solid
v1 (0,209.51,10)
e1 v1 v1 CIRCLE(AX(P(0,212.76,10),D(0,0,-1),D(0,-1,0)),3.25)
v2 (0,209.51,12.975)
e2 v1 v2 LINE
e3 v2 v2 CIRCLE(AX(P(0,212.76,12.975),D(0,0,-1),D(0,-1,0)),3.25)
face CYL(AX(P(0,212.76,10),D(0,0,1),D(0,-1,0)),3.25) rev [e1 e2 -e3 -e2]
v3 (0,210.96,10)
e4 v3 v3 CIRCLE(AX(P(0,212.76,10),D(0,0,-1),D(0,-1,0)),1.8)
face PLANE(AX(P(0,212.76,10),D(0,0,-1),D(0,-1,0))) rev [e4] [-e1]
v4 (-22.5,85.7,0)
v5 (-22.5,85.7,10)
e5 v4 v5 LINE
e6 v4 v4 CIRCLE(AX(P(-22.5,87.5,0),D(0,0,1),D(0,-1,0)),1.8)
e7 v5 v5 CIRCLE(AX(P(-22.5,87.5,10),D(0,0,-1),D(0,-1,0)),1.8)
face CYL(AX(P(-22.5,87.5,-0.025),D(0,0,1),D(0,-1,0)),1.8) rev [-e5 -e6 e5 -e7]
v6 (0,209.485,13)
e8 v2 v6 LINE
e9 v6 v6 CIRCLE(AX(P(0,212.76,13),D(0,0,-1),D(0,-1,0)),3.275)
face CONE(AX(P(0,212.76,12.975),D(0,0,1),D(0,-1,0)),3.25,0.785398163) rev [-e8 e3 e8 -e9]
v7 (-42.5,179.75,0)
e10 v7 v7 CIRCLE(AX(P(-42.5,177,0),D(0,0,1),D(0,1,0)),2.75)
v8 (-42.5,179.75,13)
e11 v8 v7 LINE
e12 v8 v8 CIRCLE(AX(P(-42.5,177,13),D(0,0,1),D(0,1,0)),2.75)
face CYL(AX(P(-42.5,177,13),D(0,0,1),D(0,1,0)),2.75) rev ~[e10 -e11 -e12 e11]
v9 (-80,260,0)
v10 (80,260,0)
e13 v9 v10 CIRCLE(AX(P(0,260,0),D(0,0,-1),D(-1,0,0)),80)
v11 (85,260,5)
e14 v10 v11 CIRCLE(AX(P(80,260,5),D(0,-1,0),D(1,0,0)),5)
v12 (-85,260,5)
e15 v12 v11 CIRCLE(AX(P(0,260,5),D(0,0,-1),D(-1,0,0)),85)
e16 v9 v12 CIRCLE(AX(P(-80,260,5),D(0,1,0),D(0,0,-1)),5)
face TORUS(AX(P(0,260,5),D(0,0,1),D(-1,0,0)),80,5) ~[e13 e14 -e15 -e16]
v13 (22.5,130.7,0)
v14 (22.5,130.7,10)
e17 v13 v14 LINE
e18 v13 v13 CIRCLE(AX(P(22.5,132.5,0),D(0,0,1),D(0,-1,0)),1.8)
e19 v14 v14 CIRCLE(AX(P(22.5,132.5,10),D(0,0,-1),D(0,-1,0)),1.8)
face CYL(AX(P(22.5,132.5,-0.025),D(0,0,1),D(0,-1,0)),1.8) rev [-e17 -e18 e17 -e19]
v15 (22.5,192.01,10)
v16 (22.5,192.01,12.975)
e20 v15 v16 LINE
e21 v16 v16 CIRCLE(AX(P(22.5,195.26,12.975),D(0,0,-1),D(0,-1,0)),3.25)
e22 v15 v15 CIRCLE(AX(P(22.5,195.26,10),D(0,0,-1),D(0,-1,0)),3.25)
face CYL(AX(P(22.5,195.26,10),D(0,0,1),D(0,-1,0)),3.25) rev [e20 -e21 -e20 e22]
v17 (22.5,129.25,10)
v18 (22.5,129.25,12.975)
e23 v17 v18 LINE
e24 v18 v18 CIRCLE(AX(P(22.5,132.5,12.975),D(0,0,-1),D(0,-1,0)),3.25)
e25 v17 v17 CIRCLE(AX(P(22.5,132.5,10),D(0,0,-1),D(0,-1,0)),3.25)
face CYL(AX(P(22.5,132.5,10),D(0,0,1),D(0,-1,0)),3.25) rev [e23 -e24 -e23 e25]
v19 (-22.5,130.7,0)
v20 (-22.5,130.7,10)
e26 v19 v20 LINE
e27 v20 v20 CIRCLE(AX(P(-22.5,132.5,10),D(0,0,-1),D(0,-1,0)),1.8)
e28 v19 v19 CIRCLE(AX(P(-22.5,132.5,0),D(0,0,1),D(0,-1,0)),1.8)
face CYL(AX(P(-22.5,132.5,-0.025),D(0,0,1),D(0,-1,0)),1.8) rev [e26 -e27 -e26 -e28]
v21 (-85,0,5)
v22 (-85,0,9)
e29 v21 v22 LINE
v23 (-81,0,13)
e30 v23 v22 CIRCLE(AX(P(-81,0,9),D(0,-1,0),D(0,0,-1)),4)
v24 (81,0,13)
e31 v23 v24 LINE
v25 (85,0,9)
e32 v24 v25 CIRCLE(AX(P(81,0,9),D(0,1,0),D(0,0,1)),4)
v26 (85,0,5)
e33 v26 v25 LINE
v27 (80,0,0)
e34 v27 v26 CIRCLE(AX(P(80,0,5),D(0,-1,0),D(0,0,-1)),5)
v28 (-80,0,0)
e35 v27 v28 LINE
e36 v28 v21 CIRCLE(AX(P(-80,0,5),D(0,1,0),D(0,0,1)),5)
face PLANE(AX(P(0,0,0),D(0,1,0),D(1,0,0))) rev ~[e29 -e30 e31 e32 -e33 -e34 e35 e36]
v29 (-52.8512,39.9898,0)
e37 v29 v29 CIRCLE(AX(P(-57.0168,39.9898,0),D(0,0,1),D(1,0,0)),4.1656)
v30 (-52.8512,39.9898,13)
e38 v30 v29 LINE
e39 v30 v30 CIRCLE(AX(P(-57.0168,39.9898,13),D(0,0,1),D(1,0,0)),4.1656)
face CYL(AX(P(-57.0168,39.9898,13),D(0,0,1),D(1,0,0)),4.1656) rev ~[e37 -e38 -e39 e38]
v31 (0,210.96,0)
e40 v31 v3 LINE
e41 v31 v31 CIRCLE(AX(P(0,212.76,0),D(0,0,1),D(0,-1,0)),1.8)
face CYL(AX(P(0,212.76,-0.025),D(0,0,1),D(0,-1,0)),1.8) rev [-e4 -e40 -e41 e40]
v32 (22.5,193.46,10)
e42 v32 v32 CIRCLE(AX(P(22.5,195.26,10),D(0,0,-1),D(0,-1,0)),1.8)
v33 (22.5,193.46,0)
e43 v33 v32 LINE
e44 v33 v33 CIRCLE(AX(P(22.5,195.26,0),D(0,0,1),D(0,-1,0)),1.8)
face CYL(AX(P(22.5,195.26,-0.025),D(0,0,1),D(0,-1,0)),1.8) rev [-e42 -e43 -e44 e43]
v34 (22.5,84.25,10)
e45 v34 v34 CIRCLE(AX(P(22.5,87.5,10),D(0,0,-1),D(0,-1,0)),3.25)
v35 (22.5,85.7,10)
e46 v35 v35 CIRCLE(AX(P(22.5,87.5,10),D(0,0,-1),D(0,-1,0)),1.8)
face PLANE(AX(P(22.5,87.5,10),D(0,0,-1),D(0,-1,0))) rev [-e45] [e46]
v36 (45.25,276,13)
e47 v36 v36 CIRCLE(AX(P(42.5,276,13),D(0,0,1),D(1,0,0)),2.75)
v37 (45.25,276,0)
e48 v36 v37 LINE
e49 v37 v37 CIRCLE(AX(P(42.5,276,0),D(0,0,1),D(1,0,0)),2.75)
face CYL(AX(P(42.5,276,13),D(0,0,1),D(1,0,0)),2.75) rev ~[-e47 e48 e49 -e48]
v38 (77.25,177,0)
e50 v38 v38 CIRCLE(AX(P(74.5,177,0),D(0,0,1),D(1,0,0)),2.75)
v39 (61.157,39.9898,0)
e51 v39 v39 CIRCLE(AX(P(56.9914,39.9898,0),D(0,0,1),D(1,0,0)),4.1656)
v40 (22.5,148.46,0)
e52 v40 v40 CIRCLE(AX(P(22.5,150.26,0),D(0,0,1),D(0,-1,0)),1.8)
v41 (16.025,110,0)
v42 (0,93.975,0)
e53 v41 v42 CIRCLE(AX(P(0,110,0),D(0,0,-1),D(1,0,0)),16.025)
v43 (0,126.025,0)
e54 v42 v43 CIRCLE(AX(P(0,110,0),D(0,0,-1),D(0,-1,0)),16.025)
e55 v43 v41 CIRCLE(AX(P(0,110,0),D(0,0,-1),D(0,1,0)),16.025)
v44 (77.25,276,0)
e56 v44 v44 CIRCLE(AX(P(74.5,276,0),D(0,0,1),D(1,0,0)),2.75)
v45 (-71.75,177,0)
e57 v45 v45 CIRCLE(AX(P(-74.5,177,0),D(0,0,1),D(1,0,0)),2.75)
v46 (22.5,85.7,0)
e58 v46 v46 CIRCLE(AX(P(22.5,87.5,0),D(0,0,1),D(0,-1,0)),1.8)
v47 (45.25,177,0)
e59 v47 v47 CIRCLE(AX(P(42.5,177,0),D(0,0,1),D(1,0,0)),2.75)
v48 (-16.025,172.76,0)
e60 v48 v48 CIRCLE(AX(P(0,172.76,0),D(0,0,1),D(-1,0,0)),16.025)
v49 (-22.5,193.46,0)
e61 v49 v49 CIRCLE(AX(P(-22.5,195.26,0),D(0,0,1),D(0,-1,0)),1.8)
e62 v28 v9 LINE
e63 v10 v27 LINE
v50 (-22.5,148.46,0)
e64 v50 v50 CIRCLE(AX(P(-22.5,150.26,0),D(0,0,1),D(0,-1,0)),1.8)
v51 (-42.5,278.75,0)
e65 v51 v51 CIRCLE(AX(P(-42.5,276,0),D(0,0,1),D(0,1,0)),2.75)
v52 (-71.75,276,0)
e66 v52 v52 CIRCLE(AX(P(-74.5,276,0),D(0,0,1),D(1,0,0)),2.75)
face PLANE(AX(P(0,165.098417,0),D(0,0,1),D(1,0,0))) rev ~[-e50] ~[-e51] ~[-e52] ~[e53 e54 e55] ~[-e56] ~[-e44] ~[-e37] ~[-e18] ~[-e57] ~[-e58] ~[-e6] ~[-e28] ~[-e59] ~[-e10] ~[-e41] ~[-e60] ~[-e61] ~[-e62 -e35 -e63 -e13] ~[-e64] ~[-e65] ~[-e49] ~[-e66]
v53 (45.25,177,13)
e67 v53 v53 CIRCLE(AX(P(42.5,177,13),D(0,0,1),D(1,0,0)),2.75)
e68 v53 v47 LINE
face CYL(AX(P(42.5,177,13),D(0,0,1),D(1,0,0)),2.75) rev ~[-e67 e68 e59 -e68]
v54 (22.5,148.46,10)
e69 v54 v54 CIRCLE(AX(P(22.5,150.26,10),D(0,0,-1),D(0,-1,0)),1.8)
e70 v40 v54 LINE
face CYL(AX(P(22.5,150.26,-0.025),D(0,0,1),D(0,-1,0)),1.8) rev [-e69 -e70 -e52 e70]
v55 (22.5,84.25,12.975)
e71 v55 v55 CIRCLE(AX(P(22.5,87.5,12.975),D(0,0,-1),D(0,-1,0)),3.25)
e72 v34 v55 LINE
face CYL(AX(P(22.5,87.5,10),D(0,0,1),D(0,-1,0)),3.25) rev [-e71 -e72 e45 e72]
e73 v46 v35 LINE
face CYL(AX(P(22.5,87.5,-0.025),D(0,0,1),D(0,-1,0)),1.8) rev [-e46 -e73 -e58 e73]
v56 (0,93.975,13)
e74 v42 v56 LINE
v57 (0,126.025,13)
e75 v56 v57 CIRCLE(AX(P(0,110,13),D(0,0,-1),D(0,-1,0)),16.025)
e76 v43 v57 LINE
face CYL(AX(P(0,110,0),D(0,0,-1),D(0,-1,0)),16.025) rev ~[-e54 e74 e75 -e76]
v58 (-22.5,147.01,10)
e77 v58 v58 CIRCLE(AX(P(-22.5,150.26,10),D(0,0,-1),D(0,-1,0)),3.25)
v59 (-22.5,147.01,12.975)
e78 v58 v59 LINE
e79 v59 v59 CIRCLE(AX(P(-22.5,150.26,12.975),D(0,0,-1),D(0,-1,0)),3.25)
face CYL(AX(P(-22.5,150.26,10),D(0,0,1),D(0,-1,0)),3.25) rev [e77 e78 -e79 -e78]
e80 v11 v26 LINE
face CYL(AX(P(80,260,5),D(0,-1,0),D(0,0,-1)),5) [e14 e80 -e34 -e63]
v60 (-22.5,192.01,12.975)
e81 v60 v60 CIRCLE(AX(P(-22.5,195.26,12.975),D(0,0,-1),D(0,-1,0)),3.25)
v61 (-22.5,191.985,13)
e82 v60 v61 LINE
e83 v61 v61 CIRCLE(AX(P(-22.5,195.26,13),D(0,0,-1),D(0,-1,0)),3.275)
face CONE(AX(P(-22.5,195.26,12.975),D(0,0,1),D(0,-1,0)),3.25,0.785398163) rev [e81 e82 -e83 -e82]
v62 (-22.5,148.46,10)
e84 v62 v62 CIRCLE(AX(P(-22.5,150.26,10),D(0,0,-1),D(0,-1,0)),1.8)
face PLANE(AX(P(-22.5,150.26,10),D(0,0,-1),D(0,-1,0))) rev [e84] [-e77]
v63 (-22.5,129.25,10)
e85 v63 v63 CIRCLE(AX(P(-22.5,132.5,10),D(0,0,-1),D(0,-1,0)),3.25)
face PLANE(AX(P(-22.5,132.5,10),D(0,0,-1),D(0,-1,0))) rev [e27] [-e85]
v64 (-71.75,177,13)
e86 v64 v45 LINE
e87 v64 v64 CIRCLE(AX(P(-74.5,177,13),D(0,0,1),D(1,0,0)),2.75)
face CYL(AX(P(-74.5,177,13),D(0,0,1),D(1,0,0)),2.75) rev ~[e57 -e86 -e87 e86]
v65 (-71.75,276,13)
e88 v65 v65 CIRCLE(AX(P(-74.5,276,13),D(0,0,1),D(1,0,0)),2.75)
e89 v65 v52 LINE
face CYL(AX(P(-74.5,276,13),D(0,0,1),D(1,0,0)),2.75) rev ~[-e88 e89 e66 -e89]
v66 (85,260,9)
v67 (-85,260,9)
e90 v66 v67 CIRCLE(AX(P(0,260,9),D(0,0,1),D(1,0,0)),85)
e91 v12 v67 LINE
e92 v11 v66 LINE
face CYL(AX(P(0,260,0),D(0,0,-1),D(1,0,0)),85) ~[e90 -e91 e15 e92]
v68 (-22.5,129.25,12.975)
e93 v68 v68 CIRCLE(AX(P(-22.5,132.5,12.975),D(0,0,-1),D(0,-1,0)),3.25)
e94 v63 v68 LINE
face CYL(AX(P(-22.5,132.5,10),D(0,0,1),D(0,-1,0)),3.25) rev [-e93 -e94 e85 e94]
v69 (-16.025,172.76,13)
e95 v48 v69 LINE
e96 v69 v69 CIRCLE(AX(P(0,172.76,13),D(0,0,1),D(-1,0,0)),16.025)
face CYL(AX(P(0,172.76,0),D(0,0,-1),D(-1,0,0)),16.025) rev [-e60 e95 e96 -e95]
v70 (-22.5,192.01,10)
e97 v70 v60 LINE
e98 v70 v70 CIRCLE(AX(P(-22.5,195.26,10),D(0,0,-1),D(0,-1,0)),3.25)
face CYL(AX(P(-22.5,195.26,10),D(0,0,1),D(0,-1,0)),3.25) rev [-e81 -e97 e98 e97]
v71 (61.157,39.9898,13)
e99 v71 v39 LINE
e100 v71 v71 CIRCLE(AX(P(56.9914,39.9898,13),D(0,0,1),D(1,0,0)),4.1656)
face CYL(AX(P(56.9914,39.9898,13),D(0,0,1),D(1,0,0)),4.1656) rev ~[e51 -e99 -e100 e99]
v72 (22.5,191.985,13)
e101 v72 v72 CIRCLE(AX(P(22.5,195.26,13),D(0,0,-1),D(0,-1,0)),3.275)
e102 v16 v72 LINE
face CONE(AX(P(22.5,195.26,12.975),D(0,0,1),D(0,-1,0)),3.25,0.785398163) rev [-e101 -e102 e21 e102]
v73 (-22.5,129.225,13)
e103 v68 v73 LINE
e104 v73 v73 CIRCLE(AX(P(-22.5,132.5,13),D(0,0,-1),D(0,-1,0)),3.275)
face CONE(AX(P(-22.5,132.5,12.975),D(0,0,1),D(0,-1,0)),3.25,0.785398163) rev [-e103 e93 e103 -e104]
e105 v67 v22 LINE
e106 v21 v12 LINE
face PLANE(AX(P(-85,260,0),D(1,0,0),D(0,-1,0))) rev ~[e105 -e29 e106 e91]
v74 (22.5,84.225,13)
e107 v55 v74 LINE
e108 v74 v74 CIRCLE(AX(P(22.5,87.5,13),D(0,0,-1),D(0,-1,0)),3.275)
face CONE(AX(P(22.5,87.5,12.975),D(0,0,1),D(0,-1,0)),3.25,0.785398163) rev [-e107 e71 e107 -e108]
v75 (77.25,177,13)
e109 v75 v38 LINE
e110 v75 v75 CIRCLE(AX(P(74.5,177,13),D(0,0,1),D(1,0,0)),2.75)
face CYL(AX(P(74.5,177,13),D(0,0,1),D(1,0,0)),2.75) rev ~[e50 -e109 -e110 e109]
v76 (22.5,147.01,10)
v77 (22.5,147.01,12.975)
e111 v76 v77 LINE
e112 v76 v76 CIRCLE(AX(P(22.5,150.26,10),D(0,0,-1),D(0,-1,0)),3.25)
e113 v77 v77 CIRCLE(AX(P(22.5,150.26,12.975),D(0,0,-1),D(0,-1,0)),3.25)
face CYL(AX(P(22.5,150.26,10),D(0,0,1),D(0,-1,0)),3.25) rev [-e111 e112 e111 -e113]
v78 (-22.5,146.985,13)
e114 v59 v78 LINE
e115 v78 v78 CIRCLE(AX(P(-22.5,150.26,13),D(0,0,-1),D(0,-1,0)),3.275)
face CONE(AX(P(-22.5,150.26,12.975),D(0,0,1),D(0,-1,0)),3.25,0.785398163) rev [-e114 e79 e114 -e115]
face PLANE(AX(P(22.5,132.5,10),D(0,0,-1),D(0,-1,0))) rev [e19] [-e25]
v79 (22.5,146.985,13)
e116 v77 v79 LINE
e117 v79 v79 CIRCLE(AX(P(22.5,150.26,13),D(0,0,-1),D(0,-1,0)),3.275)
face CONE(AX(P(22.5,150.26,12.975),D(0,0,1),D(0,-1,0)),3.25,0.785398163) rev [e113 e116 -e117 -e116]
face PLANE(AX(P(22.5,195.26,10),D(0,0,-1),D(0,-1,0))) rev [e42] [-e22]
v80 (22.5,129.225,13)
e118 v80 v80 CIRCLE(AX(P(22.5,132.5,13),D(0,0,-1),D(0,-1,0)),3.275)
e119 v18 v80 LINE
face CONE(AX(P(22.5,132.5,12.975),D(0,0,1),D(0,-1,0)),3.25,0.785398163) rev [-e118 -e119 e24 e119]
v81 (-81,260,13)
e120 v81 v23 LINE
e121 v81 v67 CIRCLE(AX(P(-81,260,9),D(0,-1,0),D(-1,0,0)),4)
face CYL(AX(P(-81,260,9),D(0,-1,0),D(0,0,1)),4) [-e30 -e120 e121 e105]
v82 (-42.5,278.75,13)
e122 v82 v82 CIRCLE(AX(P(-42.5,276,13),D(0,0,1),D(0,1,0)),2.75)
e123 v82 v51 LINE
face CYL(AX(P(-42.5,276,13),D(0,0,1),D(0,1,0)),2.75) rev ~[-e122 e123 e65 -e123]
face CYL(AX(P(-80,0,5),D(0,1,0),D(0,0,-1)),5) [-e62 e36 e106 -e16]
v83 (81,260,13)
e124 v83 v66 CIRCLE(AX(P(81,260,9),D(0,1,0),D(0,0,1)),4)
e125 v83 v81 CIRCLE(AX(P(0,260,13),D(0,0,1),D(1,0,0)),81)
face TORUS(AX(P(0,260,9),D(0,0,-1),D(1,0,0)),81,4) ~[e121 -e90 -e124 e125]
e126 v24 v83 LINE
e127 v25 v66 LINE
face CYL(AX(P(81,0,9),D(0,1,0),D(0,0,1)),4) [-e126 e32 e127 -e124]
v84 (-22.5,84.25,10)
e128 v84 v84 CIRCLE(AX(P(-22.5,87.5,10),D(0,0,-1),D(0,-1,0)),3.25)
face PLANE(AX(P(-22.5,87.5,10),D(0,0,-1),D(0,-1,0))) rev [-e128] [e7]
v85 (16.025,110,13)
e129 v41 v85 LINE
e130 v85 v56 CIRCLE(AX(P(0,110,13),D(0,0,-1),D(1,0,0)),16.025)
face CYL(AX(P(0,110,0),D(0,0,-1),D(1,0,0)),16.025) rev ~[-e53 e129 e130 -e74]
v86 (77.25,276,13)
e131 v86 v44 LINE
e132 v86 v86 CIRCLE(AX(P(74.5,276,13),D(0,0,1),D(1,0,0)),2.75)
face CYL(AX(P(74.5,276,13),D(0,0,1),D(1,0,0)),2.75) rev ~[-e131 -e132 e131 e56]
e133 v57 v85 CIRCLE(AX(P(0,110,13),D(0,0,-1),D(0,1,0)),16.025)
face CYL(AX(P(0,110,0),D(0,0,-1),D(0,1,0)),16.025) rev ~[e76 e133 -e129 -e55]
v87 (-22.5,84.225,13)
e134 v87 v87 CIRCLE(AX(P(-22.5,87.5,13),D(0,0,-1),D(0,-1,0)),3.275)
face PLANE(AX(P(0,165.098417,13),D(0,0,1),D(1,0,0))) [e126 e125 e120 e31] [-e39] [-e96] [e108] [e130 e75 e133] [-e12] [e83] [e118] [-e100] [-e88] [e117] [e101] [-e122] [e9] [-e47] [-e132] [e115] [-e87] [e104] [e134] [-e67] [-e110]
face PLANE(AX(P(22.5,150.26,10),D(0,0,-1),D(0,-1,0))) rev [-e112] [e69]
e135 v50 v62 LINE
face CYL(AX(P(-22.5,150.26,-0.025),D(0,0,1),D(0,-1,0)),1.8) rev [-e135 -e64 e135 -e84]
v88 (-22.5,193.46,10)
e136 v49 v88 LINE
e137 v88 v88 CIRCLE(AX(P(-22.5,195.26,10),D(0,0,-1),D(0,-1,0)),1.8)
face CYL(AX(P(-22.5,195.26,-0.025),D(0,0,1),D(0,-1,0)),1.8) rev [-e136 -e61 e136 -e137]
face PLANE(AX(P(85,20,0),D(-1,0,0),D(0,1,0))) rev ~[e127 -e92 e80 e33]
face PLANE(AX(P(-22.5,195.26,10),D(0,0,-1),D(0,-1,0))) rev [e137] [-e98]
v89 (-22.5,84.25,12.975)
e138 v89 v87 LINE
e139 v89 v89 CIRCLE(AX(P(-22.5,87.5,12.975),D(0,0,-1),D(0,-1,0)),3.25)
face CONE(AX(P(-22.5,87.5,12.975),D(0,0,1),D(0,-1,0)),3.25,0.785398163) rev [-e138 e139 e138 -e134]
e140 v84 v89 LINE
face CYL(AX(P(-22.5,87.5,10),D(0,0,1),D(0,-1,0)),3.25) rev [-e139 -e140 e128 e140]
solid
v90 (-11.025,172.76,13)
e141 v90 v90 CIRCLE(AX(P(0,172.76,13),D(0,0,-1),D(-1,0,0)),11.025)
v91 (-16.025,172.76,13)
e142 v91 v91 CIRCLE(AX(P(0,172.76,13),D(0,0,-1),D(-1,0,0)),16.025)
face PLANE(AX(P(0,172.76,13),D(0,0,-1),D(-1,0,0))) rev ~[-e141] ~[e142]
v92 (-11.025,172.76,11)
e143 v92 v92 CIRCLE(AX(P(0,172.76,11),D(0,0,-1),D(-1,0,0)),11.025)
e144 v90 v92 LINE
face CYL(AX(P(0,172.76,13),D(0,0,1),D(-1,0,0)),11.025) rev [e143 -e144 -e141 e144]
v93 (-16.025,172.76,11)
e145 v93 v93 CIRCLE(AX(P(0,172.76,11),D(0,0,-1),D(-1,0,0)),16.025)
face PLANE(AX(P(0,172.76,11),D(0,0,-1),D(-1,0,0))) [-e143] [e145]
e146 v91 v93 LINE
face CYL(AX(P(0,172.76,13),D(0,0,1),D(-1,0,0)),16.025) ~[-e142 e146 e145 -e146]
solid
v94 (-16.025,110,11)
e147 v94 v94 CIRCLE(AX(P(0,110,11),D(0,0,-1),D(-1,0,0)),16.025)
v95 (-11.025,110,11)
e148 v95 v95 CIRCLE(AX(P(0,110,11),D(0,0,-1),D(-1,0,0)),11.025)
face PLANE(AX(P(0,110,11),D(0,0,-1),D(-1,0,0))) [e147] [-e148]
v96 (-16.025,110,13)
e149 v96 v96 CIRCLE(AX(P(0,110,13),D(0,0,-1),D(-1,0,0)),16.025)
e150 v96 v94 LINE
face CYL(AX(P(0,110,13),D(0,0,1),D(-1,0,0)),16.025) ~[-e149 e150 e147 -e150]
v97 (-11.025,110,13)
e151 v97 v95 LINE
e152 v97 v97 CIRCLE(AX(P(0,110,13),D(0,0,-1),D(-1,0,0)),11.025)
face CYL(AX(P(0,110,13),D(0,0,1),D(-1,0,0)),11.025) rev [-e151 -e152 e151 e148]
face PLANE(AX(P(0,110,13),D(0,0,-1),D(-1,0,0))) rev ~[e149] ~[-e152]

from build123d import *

# Parameters (mm, degrees)
SKETCH1_W                           = 85
SKETCH1_H                           = 20
SKETCH1_R                           = 16.025
BOSS_EXTRUDE1_DEPTH                 = 13
SKETCH2_R                           = 16.025
SKETCH2_R_2                         = 11.025
BOSS_EXTRUDE2_DEPTH                 = 2
BOSS_EXTRUDE2_2_DEPTH               = 2
CUT_EXTRUDE2_DEPTH                  = 0.1
F_3_3_3_3_DIAMETER_HOLE1_AT_2_COUNT = 2
F_3_3_3_3_DIAMETER_HOLE1_AT_2_PITCH = 45
F_3_3_3_3_DIAMETER_HOLE1_AT_3_COUNT = 2
F_3_3_3_3_DIAMETER_HOLE1_AT_3_PITCH = 63.639610307
F_3_3_3_3_DIAMETER_HOLE1_AT_4_COUNT = 2
F_3_3_3_3_DIAMETER_HOLE1_AT_4_PITCH = 45
F_3_3_3_3_DIAMETER_HOLE1_AT_5_COUNT = 2
F_3_3_3_3_DIAMETER_HOLE1_AT_5_PITCH = 48.377862706
F_3_3_3_3_DIAMETER_HOLE1_AT_6_COUNT = 2
F_3_3_3_3_DIAMETER_HOLE1_AT_6_PITCH = 77.225757361
F_3_3_3_3_DIAMETER_HOLE1_AT_7_COUNT = 2
F_3_3_3_3_DIAMETER_HOLE1_AT_7_PITCH = 17.76
F_3_3_3_3_DIAMETER_HOLE1_AT_8_COUNT = 2
F_3_3_3_3_DIAMETER_HOLE1_AT_8_PITCH = 62.76
FILLET3_R                           = 4
FILLET4_R                           = 5
SKETCH26_R                          = 1.7
CUT_EXTRUDE3_DEPTH                  = 356.554496526
SKETCH27_R                          = 2.75
SKETCH27_R_2                        = 4.1656
CUT_EXTRUDE4_DEPTH                  = 356.554496526
CBORE_FOR_M3_SHCS1_AT_2_COUNT       = 2
CBORE_FOR_M3_SHCS1_AT_2_PITCH       = 28.504385627
CBORE_FOR_M3_SHCS1_AT_3_COUNT       = 2
CBORE_FOR_M3_SHCS1_AT_3_PITCH       = 28.504385627
CBORE_FOR_M3_SHCS1_AT_4_COUNT       = 2
CBORE_FOR_M3_SHCS1_AT_4_PITCH       = 66.426651278
CBORE_FOR_M3_SHCS1_AT_5_COUNT       = 2
CBORE_FOR_M3_SHCS1_AT_5_PITCH       = 66.426651278
CBORE_FOR_M3_SHCS1_AT_6_COUNT       = 2
CBORE_FOR_M3_SHCS1_AT_6_PITCH       = 127.264753958
CBORE_FOR_M3_SHCS1_AT_7_COUNT       = 2
CBORE_FOR_M3_SHCS1_AT_7_PITCH       = 83.354169662
CBORE_FOR_M3_SHCS1_AT_8_COUNT       = 2
CBORE_FOR_M3_SHCS1_AT_8_PITCH       = 83.354169662
CBORE_FOR_M3_SHCS1_AT_9_COUNT       = 2
CBORE_FOR_M3_SHCS1_AT_9_PITCH       = 127.264753958


with BuildPart() as part:
    # Sketch1 → Boss-Extrude1 (new body)
    # profile 1 of 3: a face of its own
    with BuildSketch(Plane.XY):
        with Locations((42.5, 10)):
            Rectangle(SKETCH1_W, SKETCH1_H)
    # profile 2 of 3: a face of its own
    with BuildSketch(Plane.XY):
        with Locations((-42.5, 10)):
            Rectangle(SKETCH1_W, SKETCH1_H)
    # profile 3 of 3: a face of its own
    with BuildSketch(Plane.XY):
        with BuildLine():
            Line((0, 20), (85, 20))
            Line((85, 20), (85, 260))
            ThreePointArc((85, 260), (0, 345), (-85, 260))
            Line((-85, 260), (-85, 20))
            Line((-85, 20), (0, 20))
        make_face()
        with BuildLine():
            ThreePointArc((16.025, 110), (11.331386169, 98.668613831), (0, 93.975))
            ThreePointArc((0, 93.975), (-16.025, 110), (0, 126.025))
            ThreePointArc((0, 126.025), (11.331386169, 121.331386169), (16.025, 110))
        make_face(mode=Mode.SUBTRACT)
        with Locations(Location((0, 172.76, 0), (0, 0, 180))):
            Circle(SKETCH1_R, mode=Mode.SUBTRACT)
    extrude(amount=BOSS_EXTRUDE1_DEPTH)

    # Sketch17 → Cut-Extrude2 (cut)
    with BuildSketch(Plane.XY.offset(11)):
        Polygon((-21.82885296, 192.45235063), (-19.732930801, 194.437405702), (-20.404077841, 197.245055071), (-23.17114704, 198.06764937), (-25.267069199, 196.082594298), (-24.595922159, 193.274944929), align=None)
        Polygon((21.82885296, 192.45235063), (24.595922159, 193.274944929), (25.267069199, 196.082594298), (23.17114704, 198.06764937), (20.404077841, 197.245055071), (19.732930801, 194.437405702), align=None)
        Polygon((21.921863094, 147.431733561), (24.660282132, 148.345185533), (25.238419038, 151.173451972), (23.078136906, 153.088266439), (20.339717868, 152.174814467), (19.761580962, 149.346548028), align=None)
        Polygon((-21.921863094, 147.431733561), (-19.761580962, 149.346548028), (-20.339717868, 152.174814467), (-23.078136906, 153.088266439), (-25.238419038, 151.173451972), (-24.660282132, 148.345185533), align=None)
        Polygon((-19.613248654, 132.5), (-21.056624327, 135), (-23.943375673, 135), (-25.386751346, 132.5), (-23.943375673, 130), (-21.056624327, 130), align=None)
        Polygon((19.613248654, 132.5), (21.056624327, 130), (23.943375673, 130), (25.386751346, 132.5), (23.943375673, 135), (21.056624327, 135), align=None)
        Polygon((19.613248654, 87.5), (21.056624327, 85), (23.943375673, 85), (25.386751346, 87.5), (23.943375673, 90), (21.056624327, 90), align=None)
        Polygon((-19.613248654, 87.5), (-21.056624327, 90), (-23.943375673, 90), (-25.386751346, 87.5), (-23.943375673, 85), (-21.056624327, 85), align=None)
    extrude(amount=-CUT_EXTRUDE2_DEPTH, mode=Mode.SUBTRACT)

    # Sketch24 → Ø3.3 (3.3) Diameter Hole1 (revolve, cut)
    with BuildSketch(Plane(origin=(-22.5, 150.26, 13), x_dir=(0, -1, 0), z_dir=(1, 0, 0))):
        Polygon((0, 0), (0, 15.991420021), (1.65, 15), (1.65, 0), align=None)
    f_3_3_3_3_diameter_hole1 = revolve(axis=Axis((-22.5, 150.26, 19.35), (0, 0, -1)), mode=Mode.SUBTRACT)

    # Ø3.3 (3.3) Diameter Hole1 at 2: Ø3.3 (3.3) Diameter Hole1 ×2
    with Locations(*[(0, i * F_3_3_3_3_DIAMETER_HOLE1_AT_2_PITCH, 0) for i in range(1, F_3_3_3_3_DIAMETER_HOLE1_AT_2_COUNT)]):
        add(f_3_3_3_3_diameter_hole1, mode=Mode.SUBTRACT)

    # Ø3.3 (3.3) Diameter Hole1 at 3: Ø3.3 (3.3) Diameter Hole1 ×2
    with Locations(*[Vector(0.7071067811865478, 0.7071067811865472, 0) * (i * F_3_3_3_3_DIAMETER_HOLE1_AT_3_PITCH) for i in range(1, F_3_3_3_3_DIAMETER_HOLE1_AT_3_COUNT)]):
        add(f_3_3_3_3_diameter_hole1, mode=Mode.SUBTRACT)

    # Ø3.3 (3.3) Diameter Hole1 at 4: Ø3.3 (3.3) Diameter Hole1 ×2
    with Locations(*[(i * F_3_3_3_3_DIAMETER_HOLE1_AT_4_PITCH, 0, 0) for i in range(1, F_3_3_3_3_DIAMETER_HOLE1_AT_4_COUNT)]):
        add(f_3_3_3_3_diameter_hole1, mode=Mode.SUBTRACT)

    # Ø3.3 (3.3) Diameter Hole1 at 5: Ø3.3 (3.3) Diameter Hole1 ×2
    with Locations(*[Vector(0.9301775126668539, -0.3671100583325181, 0) * (i * F_3_3_3_3_DIAMETER_HOLE1_AT_5_PITCH) for i in range(1, F_3_3_3_3_DIAMETER_HOLE1_AT_5_COUNT)]):
        add(f_3_3_3_3_diameter_hole1, mode=Mode.SUBTRACT)

    # Ø3.3 (3.3) Diameter Hole1 at 6: Ø3.3 (3.3) Diameter Hole1 ×2
    with Locations(*[Vector(0.5827071373294203, -0.8126822208620982, 0) * (i * F_3_3_3_3_DIAMETER_HOLE1_AT_6_PITCH) for i in range(1, F_3_3_3_3_DIAMETER_HOLE1_AT_6_COUNT)]):
        add(f_3_3_3_3_diameter_hole1, mode=Mode.SUBTRACT)

    # Ø3.3 (3.3) Diameter Hole1 at 7: Ø3.3 (3.3) Diameter Hole1 ×2
    with Locations(*[(0, -i * F_3_3_3_3_DIAMETER_HOLE1_AT_7_PITCH, 0) for i in range(1, F_3_3_3_3_DIAMETER_HOLE1_AT_7_COUNT)]):
        add(f_3_3_3_3_diameter_hole1, mode=Mode.SUBTRACT)

    # Ø3.3 (3.3) Diameter Hole1 at 8: Ø3.3 (3.3) Diameter Hole1 ×2
    with Locations(*[(0, -i * F_3_3_3_3_DIAMETER_HOLE1_AT_8_PITCH, 0) for i in range(1, F_3_3_3_3_DIAMETER_HOLE1_AT_8_COUNT)]):
        add(f_3_3_3_3_diameter_hole1, mode=Mode.SUBTRACT)

    # Fillet3
    fillet3_edges = [part.edges().sort_by_distance(p)[0] for p in [
        (-85, 130, 13),
        (85, 130, 13),
        (0, 345, 13),
    ]]
    fillet(fillet3_edges, radius=FILLET3_R)

    # Fillet4
    fillet4_edges = [part.edges().sort_by_distance(p)[0] for p in [
        (-85, 130, 0),
        (0, 345, 0),
        (85, 130, 0),
    ]]
    fillet(fillet4_edges, radius=FILLET4_R)

    # Sketch26 → Cut-Extrude3 (cut, through all)
    with BuildSketch(Plane(origin=(0, 0, 0), x_dir=(-1, 0, 0), z_dir=(0, 0, -1))):
        with Locations((0, 212.76)):
            Circle(SKETCH26_R)
    extrude(amount=-CUT_EXTRUDE3_DEPTH, mode=Mode.SUBTRACT)

    # Sketch27 → Cut-Extrude4 (cut, through all)
    with BuildSketch(Plane.XY.offset(13)):
        with Locations((-74.5, 276)):
            Circle(SKETCH27_R)
        with Locations((56.9914, 39.9898)):
            Circle(SKETCH27_R_2)
        with Locations((-57.0168, 39.9898)):
            Circle(SKETCH27_R_2)
        with Locations((42.5, 276)):
            Circle(SKETCH27_R)
        with Locations((42.5, 177)):
            Circle(SKETCH27_R)
        with Locations((-74.5, 177)):
            Circle(SKETCH27_R)
        with Locations((74.5, 177)):
            Circle(SKETCH27_R)
        with Locations((74.5, 276)):
            Circle(SKETCH27_R)
        with BuildLine():
            ThreePointArc((-42.5, 273.25), (-39.75, 276), (-42.5, 278.75))
            ThreePointArc((-42.5, 278.75), (-45.25, 276), (-42.5, 273.25))
        make_face()
        with BuildLine():
            ThreePointArc((-42.5, 174.25), (-39.75, 177), (-42.5, 179.75))
            ThreePointArc((-42.5, 179.75), (-45.25, 177), (-42.5, 174.25))
        make_face()
    extrude(amount=-CUT_EXTRUDE4_DEPTH, mode=Mode.SUBTRACT)

    # Sketch30 → CBORE for M3 SHCS1 (revolve, cut)
    with BuildSketch(Plane(origin=(0, 212.76, 13), x_dir=(0, -1, 0), z_dir=(1, 0, 0))):
        Polygon((0, 0), (0, 13.025), (1.8, 13.025), (1.8, 3), (3.25, 3), (3.25, 0.025), (3.275, 0), align=None)
    cbore_for_m3_shcs1 = revolve(axis=Axis((0, 212.76, 19.35), (0, 0, -1)), mode=Mode.SUBTRACT)

    # CBORE for M3 SHCS1 at 2: CBORE for M3 SHCS1 ×2
    with Locations(*[Vector(-0.7893522173763236, -0.6139406135149239, 0) * (i * CBORE_FOR_M3_SHCS1_AT_2_PITCH) for i in range(1, CBORE_FOR_M3_SHCS1_AT_2_COUNT)]):
        add(cbore_for_m3_shcs1, mode=Mode.SUBTRACT)

    # CBORE for M3 SHCS1 at 3: CBORE for M3 SHCS1 ×2
    with Locations(*[Vector(0.7893522173763435, -0.6139406135148984, 0) * (i * CBORE_FOR_M3_SHCS1_AT_3_PITCH) for i in range(1, CBORE_FOR_M3_SHCS1_AT_3_COUNT)]):
        add(cbore_for_m3_shcs1, mode=Mode.SUBTRACT)

    # CBORE for M3 SHCS1 at 4: CBORE for M3 SHCS1 ×2
    with Locations(*[Vector(0.3387194682727538, -0.9408874118687225, 0) * (i * CBORE_FOR_M3_SHCS1_AT_4_PITCH) for i in range(1, CBORE_FOR_M3_SHCS1_AT_4_COUNT)]):
        add(cbore_for_m3_shcs1, mode=Mode.SUBTRACT)

    # CBORE for M3 SHCS1 at 5: CBORE for M3 SHCS1 ×2
    with Locations(*[Vector(-0.3387194682727339, -0.9408874118687296, 0) * (i * CBORE_FOR_M3_SHCS1_AT_5_PITCH) for i in range(1, CBORE_FOR_M3_SHCS1_AT_5_COUNT)]):
        add(cbore_for_m3_shcs1, mode=Mode.SUBTRACT)

    # CBORE for M3 SHCS1 at 6: CBORE for M3 SHCS1 ×2
    with Locations(*[Vector(-0.17679679015776878, -0.9842473748961234, 0) * (i * CBORE_FOR_M3_SHCS1_AT_6_PITCH) for i in range(1, CBORE_FOR_M3_SHCS1_AT_6_COUNT)]):
        add(cbore_for_m3_shcs1, mode=Mode.SUBTRACT)

    # CBORE for M3 SHCS1 at 7: CBORE for M3 SHCS1 ×2
    with Locations(*[Vector(-0.2699325071715521, -0.9628792455817501, 0) * (i * CBORE_FOR_M3_SHCS1_AT_7_PITCH) for i in range(1, CBORE_FOR_M3_SHCS1_AT_7_COUNT)]):
        add(cbore_for_m3_shcs1, mode=Mode.SUBTRACT)

    # CBORE for M3 SHCS1 at 8: CBORE for M3 SHCS1 ×2
    with Locations(*[Vector(0.2699325071715689, -0.9628792455817453, 0) * (i * CBORE_FOR_M3_SHCS1_AT_8_PITCH) for i in range(1, CBORE_FOR_M3_SHCS1_AT_8_COUNT)]):
        add(cbore_for_m3_shcs1, mode=Mode.SUBTRACT)

    # CBORE for M3 SHCS1 at 9: CBORE for M3 SHCS1 ×2
    with Locations(*[Vector(0.1767967901577801, -0.9842473748961212, 0) * (i * CBORE_FOR_M3_SHCS1_AT_9_PITCH) for i in range(1, CBORE_FOR_M3_SHCS1_AT_9_COUNT)]):
        add(cbore_for_m3_shcs1, mode=Mode.SUBTRACT)


with BuildPart() as body_2:
    # Sketch2 → Boss-Extrude2 (new body)
    with BuildSketch(Plane(origin=(0, 0, 13), x_dir=(-1, 0, 0), z_dir=(0, 0, -1))):
        with Locations((0, 172.76)):
            Circle(SKETCH2_R)
        with Locations((0, 172.76)):
            Circle(SKETCH2_R_2, mode=Mode.SUBTRACT)
    extrude(amount=BOSS_EXTRUDE2_DEPTH)


with BuildPart() as body_3:
    # Sketch2 → Boss-Extrude2 2 (new body)
    with BuildSketch(Plane(origin=(0, 0, 13), x_dir=(-1, 0, 0), z_dir=(0, 0, -1))):
        with Locations((0, 110)):
            Circle(SKETCH2_R)
        with Locations((0, 110)):
            Circle(SKETCH2_R_2, mode=Mode.SUBTRACT)
    extrude(amount=BOSS_EXTRUDE2_2_DEPTH)


solid = Compound([part.part, body_2.part, body_3.part])
